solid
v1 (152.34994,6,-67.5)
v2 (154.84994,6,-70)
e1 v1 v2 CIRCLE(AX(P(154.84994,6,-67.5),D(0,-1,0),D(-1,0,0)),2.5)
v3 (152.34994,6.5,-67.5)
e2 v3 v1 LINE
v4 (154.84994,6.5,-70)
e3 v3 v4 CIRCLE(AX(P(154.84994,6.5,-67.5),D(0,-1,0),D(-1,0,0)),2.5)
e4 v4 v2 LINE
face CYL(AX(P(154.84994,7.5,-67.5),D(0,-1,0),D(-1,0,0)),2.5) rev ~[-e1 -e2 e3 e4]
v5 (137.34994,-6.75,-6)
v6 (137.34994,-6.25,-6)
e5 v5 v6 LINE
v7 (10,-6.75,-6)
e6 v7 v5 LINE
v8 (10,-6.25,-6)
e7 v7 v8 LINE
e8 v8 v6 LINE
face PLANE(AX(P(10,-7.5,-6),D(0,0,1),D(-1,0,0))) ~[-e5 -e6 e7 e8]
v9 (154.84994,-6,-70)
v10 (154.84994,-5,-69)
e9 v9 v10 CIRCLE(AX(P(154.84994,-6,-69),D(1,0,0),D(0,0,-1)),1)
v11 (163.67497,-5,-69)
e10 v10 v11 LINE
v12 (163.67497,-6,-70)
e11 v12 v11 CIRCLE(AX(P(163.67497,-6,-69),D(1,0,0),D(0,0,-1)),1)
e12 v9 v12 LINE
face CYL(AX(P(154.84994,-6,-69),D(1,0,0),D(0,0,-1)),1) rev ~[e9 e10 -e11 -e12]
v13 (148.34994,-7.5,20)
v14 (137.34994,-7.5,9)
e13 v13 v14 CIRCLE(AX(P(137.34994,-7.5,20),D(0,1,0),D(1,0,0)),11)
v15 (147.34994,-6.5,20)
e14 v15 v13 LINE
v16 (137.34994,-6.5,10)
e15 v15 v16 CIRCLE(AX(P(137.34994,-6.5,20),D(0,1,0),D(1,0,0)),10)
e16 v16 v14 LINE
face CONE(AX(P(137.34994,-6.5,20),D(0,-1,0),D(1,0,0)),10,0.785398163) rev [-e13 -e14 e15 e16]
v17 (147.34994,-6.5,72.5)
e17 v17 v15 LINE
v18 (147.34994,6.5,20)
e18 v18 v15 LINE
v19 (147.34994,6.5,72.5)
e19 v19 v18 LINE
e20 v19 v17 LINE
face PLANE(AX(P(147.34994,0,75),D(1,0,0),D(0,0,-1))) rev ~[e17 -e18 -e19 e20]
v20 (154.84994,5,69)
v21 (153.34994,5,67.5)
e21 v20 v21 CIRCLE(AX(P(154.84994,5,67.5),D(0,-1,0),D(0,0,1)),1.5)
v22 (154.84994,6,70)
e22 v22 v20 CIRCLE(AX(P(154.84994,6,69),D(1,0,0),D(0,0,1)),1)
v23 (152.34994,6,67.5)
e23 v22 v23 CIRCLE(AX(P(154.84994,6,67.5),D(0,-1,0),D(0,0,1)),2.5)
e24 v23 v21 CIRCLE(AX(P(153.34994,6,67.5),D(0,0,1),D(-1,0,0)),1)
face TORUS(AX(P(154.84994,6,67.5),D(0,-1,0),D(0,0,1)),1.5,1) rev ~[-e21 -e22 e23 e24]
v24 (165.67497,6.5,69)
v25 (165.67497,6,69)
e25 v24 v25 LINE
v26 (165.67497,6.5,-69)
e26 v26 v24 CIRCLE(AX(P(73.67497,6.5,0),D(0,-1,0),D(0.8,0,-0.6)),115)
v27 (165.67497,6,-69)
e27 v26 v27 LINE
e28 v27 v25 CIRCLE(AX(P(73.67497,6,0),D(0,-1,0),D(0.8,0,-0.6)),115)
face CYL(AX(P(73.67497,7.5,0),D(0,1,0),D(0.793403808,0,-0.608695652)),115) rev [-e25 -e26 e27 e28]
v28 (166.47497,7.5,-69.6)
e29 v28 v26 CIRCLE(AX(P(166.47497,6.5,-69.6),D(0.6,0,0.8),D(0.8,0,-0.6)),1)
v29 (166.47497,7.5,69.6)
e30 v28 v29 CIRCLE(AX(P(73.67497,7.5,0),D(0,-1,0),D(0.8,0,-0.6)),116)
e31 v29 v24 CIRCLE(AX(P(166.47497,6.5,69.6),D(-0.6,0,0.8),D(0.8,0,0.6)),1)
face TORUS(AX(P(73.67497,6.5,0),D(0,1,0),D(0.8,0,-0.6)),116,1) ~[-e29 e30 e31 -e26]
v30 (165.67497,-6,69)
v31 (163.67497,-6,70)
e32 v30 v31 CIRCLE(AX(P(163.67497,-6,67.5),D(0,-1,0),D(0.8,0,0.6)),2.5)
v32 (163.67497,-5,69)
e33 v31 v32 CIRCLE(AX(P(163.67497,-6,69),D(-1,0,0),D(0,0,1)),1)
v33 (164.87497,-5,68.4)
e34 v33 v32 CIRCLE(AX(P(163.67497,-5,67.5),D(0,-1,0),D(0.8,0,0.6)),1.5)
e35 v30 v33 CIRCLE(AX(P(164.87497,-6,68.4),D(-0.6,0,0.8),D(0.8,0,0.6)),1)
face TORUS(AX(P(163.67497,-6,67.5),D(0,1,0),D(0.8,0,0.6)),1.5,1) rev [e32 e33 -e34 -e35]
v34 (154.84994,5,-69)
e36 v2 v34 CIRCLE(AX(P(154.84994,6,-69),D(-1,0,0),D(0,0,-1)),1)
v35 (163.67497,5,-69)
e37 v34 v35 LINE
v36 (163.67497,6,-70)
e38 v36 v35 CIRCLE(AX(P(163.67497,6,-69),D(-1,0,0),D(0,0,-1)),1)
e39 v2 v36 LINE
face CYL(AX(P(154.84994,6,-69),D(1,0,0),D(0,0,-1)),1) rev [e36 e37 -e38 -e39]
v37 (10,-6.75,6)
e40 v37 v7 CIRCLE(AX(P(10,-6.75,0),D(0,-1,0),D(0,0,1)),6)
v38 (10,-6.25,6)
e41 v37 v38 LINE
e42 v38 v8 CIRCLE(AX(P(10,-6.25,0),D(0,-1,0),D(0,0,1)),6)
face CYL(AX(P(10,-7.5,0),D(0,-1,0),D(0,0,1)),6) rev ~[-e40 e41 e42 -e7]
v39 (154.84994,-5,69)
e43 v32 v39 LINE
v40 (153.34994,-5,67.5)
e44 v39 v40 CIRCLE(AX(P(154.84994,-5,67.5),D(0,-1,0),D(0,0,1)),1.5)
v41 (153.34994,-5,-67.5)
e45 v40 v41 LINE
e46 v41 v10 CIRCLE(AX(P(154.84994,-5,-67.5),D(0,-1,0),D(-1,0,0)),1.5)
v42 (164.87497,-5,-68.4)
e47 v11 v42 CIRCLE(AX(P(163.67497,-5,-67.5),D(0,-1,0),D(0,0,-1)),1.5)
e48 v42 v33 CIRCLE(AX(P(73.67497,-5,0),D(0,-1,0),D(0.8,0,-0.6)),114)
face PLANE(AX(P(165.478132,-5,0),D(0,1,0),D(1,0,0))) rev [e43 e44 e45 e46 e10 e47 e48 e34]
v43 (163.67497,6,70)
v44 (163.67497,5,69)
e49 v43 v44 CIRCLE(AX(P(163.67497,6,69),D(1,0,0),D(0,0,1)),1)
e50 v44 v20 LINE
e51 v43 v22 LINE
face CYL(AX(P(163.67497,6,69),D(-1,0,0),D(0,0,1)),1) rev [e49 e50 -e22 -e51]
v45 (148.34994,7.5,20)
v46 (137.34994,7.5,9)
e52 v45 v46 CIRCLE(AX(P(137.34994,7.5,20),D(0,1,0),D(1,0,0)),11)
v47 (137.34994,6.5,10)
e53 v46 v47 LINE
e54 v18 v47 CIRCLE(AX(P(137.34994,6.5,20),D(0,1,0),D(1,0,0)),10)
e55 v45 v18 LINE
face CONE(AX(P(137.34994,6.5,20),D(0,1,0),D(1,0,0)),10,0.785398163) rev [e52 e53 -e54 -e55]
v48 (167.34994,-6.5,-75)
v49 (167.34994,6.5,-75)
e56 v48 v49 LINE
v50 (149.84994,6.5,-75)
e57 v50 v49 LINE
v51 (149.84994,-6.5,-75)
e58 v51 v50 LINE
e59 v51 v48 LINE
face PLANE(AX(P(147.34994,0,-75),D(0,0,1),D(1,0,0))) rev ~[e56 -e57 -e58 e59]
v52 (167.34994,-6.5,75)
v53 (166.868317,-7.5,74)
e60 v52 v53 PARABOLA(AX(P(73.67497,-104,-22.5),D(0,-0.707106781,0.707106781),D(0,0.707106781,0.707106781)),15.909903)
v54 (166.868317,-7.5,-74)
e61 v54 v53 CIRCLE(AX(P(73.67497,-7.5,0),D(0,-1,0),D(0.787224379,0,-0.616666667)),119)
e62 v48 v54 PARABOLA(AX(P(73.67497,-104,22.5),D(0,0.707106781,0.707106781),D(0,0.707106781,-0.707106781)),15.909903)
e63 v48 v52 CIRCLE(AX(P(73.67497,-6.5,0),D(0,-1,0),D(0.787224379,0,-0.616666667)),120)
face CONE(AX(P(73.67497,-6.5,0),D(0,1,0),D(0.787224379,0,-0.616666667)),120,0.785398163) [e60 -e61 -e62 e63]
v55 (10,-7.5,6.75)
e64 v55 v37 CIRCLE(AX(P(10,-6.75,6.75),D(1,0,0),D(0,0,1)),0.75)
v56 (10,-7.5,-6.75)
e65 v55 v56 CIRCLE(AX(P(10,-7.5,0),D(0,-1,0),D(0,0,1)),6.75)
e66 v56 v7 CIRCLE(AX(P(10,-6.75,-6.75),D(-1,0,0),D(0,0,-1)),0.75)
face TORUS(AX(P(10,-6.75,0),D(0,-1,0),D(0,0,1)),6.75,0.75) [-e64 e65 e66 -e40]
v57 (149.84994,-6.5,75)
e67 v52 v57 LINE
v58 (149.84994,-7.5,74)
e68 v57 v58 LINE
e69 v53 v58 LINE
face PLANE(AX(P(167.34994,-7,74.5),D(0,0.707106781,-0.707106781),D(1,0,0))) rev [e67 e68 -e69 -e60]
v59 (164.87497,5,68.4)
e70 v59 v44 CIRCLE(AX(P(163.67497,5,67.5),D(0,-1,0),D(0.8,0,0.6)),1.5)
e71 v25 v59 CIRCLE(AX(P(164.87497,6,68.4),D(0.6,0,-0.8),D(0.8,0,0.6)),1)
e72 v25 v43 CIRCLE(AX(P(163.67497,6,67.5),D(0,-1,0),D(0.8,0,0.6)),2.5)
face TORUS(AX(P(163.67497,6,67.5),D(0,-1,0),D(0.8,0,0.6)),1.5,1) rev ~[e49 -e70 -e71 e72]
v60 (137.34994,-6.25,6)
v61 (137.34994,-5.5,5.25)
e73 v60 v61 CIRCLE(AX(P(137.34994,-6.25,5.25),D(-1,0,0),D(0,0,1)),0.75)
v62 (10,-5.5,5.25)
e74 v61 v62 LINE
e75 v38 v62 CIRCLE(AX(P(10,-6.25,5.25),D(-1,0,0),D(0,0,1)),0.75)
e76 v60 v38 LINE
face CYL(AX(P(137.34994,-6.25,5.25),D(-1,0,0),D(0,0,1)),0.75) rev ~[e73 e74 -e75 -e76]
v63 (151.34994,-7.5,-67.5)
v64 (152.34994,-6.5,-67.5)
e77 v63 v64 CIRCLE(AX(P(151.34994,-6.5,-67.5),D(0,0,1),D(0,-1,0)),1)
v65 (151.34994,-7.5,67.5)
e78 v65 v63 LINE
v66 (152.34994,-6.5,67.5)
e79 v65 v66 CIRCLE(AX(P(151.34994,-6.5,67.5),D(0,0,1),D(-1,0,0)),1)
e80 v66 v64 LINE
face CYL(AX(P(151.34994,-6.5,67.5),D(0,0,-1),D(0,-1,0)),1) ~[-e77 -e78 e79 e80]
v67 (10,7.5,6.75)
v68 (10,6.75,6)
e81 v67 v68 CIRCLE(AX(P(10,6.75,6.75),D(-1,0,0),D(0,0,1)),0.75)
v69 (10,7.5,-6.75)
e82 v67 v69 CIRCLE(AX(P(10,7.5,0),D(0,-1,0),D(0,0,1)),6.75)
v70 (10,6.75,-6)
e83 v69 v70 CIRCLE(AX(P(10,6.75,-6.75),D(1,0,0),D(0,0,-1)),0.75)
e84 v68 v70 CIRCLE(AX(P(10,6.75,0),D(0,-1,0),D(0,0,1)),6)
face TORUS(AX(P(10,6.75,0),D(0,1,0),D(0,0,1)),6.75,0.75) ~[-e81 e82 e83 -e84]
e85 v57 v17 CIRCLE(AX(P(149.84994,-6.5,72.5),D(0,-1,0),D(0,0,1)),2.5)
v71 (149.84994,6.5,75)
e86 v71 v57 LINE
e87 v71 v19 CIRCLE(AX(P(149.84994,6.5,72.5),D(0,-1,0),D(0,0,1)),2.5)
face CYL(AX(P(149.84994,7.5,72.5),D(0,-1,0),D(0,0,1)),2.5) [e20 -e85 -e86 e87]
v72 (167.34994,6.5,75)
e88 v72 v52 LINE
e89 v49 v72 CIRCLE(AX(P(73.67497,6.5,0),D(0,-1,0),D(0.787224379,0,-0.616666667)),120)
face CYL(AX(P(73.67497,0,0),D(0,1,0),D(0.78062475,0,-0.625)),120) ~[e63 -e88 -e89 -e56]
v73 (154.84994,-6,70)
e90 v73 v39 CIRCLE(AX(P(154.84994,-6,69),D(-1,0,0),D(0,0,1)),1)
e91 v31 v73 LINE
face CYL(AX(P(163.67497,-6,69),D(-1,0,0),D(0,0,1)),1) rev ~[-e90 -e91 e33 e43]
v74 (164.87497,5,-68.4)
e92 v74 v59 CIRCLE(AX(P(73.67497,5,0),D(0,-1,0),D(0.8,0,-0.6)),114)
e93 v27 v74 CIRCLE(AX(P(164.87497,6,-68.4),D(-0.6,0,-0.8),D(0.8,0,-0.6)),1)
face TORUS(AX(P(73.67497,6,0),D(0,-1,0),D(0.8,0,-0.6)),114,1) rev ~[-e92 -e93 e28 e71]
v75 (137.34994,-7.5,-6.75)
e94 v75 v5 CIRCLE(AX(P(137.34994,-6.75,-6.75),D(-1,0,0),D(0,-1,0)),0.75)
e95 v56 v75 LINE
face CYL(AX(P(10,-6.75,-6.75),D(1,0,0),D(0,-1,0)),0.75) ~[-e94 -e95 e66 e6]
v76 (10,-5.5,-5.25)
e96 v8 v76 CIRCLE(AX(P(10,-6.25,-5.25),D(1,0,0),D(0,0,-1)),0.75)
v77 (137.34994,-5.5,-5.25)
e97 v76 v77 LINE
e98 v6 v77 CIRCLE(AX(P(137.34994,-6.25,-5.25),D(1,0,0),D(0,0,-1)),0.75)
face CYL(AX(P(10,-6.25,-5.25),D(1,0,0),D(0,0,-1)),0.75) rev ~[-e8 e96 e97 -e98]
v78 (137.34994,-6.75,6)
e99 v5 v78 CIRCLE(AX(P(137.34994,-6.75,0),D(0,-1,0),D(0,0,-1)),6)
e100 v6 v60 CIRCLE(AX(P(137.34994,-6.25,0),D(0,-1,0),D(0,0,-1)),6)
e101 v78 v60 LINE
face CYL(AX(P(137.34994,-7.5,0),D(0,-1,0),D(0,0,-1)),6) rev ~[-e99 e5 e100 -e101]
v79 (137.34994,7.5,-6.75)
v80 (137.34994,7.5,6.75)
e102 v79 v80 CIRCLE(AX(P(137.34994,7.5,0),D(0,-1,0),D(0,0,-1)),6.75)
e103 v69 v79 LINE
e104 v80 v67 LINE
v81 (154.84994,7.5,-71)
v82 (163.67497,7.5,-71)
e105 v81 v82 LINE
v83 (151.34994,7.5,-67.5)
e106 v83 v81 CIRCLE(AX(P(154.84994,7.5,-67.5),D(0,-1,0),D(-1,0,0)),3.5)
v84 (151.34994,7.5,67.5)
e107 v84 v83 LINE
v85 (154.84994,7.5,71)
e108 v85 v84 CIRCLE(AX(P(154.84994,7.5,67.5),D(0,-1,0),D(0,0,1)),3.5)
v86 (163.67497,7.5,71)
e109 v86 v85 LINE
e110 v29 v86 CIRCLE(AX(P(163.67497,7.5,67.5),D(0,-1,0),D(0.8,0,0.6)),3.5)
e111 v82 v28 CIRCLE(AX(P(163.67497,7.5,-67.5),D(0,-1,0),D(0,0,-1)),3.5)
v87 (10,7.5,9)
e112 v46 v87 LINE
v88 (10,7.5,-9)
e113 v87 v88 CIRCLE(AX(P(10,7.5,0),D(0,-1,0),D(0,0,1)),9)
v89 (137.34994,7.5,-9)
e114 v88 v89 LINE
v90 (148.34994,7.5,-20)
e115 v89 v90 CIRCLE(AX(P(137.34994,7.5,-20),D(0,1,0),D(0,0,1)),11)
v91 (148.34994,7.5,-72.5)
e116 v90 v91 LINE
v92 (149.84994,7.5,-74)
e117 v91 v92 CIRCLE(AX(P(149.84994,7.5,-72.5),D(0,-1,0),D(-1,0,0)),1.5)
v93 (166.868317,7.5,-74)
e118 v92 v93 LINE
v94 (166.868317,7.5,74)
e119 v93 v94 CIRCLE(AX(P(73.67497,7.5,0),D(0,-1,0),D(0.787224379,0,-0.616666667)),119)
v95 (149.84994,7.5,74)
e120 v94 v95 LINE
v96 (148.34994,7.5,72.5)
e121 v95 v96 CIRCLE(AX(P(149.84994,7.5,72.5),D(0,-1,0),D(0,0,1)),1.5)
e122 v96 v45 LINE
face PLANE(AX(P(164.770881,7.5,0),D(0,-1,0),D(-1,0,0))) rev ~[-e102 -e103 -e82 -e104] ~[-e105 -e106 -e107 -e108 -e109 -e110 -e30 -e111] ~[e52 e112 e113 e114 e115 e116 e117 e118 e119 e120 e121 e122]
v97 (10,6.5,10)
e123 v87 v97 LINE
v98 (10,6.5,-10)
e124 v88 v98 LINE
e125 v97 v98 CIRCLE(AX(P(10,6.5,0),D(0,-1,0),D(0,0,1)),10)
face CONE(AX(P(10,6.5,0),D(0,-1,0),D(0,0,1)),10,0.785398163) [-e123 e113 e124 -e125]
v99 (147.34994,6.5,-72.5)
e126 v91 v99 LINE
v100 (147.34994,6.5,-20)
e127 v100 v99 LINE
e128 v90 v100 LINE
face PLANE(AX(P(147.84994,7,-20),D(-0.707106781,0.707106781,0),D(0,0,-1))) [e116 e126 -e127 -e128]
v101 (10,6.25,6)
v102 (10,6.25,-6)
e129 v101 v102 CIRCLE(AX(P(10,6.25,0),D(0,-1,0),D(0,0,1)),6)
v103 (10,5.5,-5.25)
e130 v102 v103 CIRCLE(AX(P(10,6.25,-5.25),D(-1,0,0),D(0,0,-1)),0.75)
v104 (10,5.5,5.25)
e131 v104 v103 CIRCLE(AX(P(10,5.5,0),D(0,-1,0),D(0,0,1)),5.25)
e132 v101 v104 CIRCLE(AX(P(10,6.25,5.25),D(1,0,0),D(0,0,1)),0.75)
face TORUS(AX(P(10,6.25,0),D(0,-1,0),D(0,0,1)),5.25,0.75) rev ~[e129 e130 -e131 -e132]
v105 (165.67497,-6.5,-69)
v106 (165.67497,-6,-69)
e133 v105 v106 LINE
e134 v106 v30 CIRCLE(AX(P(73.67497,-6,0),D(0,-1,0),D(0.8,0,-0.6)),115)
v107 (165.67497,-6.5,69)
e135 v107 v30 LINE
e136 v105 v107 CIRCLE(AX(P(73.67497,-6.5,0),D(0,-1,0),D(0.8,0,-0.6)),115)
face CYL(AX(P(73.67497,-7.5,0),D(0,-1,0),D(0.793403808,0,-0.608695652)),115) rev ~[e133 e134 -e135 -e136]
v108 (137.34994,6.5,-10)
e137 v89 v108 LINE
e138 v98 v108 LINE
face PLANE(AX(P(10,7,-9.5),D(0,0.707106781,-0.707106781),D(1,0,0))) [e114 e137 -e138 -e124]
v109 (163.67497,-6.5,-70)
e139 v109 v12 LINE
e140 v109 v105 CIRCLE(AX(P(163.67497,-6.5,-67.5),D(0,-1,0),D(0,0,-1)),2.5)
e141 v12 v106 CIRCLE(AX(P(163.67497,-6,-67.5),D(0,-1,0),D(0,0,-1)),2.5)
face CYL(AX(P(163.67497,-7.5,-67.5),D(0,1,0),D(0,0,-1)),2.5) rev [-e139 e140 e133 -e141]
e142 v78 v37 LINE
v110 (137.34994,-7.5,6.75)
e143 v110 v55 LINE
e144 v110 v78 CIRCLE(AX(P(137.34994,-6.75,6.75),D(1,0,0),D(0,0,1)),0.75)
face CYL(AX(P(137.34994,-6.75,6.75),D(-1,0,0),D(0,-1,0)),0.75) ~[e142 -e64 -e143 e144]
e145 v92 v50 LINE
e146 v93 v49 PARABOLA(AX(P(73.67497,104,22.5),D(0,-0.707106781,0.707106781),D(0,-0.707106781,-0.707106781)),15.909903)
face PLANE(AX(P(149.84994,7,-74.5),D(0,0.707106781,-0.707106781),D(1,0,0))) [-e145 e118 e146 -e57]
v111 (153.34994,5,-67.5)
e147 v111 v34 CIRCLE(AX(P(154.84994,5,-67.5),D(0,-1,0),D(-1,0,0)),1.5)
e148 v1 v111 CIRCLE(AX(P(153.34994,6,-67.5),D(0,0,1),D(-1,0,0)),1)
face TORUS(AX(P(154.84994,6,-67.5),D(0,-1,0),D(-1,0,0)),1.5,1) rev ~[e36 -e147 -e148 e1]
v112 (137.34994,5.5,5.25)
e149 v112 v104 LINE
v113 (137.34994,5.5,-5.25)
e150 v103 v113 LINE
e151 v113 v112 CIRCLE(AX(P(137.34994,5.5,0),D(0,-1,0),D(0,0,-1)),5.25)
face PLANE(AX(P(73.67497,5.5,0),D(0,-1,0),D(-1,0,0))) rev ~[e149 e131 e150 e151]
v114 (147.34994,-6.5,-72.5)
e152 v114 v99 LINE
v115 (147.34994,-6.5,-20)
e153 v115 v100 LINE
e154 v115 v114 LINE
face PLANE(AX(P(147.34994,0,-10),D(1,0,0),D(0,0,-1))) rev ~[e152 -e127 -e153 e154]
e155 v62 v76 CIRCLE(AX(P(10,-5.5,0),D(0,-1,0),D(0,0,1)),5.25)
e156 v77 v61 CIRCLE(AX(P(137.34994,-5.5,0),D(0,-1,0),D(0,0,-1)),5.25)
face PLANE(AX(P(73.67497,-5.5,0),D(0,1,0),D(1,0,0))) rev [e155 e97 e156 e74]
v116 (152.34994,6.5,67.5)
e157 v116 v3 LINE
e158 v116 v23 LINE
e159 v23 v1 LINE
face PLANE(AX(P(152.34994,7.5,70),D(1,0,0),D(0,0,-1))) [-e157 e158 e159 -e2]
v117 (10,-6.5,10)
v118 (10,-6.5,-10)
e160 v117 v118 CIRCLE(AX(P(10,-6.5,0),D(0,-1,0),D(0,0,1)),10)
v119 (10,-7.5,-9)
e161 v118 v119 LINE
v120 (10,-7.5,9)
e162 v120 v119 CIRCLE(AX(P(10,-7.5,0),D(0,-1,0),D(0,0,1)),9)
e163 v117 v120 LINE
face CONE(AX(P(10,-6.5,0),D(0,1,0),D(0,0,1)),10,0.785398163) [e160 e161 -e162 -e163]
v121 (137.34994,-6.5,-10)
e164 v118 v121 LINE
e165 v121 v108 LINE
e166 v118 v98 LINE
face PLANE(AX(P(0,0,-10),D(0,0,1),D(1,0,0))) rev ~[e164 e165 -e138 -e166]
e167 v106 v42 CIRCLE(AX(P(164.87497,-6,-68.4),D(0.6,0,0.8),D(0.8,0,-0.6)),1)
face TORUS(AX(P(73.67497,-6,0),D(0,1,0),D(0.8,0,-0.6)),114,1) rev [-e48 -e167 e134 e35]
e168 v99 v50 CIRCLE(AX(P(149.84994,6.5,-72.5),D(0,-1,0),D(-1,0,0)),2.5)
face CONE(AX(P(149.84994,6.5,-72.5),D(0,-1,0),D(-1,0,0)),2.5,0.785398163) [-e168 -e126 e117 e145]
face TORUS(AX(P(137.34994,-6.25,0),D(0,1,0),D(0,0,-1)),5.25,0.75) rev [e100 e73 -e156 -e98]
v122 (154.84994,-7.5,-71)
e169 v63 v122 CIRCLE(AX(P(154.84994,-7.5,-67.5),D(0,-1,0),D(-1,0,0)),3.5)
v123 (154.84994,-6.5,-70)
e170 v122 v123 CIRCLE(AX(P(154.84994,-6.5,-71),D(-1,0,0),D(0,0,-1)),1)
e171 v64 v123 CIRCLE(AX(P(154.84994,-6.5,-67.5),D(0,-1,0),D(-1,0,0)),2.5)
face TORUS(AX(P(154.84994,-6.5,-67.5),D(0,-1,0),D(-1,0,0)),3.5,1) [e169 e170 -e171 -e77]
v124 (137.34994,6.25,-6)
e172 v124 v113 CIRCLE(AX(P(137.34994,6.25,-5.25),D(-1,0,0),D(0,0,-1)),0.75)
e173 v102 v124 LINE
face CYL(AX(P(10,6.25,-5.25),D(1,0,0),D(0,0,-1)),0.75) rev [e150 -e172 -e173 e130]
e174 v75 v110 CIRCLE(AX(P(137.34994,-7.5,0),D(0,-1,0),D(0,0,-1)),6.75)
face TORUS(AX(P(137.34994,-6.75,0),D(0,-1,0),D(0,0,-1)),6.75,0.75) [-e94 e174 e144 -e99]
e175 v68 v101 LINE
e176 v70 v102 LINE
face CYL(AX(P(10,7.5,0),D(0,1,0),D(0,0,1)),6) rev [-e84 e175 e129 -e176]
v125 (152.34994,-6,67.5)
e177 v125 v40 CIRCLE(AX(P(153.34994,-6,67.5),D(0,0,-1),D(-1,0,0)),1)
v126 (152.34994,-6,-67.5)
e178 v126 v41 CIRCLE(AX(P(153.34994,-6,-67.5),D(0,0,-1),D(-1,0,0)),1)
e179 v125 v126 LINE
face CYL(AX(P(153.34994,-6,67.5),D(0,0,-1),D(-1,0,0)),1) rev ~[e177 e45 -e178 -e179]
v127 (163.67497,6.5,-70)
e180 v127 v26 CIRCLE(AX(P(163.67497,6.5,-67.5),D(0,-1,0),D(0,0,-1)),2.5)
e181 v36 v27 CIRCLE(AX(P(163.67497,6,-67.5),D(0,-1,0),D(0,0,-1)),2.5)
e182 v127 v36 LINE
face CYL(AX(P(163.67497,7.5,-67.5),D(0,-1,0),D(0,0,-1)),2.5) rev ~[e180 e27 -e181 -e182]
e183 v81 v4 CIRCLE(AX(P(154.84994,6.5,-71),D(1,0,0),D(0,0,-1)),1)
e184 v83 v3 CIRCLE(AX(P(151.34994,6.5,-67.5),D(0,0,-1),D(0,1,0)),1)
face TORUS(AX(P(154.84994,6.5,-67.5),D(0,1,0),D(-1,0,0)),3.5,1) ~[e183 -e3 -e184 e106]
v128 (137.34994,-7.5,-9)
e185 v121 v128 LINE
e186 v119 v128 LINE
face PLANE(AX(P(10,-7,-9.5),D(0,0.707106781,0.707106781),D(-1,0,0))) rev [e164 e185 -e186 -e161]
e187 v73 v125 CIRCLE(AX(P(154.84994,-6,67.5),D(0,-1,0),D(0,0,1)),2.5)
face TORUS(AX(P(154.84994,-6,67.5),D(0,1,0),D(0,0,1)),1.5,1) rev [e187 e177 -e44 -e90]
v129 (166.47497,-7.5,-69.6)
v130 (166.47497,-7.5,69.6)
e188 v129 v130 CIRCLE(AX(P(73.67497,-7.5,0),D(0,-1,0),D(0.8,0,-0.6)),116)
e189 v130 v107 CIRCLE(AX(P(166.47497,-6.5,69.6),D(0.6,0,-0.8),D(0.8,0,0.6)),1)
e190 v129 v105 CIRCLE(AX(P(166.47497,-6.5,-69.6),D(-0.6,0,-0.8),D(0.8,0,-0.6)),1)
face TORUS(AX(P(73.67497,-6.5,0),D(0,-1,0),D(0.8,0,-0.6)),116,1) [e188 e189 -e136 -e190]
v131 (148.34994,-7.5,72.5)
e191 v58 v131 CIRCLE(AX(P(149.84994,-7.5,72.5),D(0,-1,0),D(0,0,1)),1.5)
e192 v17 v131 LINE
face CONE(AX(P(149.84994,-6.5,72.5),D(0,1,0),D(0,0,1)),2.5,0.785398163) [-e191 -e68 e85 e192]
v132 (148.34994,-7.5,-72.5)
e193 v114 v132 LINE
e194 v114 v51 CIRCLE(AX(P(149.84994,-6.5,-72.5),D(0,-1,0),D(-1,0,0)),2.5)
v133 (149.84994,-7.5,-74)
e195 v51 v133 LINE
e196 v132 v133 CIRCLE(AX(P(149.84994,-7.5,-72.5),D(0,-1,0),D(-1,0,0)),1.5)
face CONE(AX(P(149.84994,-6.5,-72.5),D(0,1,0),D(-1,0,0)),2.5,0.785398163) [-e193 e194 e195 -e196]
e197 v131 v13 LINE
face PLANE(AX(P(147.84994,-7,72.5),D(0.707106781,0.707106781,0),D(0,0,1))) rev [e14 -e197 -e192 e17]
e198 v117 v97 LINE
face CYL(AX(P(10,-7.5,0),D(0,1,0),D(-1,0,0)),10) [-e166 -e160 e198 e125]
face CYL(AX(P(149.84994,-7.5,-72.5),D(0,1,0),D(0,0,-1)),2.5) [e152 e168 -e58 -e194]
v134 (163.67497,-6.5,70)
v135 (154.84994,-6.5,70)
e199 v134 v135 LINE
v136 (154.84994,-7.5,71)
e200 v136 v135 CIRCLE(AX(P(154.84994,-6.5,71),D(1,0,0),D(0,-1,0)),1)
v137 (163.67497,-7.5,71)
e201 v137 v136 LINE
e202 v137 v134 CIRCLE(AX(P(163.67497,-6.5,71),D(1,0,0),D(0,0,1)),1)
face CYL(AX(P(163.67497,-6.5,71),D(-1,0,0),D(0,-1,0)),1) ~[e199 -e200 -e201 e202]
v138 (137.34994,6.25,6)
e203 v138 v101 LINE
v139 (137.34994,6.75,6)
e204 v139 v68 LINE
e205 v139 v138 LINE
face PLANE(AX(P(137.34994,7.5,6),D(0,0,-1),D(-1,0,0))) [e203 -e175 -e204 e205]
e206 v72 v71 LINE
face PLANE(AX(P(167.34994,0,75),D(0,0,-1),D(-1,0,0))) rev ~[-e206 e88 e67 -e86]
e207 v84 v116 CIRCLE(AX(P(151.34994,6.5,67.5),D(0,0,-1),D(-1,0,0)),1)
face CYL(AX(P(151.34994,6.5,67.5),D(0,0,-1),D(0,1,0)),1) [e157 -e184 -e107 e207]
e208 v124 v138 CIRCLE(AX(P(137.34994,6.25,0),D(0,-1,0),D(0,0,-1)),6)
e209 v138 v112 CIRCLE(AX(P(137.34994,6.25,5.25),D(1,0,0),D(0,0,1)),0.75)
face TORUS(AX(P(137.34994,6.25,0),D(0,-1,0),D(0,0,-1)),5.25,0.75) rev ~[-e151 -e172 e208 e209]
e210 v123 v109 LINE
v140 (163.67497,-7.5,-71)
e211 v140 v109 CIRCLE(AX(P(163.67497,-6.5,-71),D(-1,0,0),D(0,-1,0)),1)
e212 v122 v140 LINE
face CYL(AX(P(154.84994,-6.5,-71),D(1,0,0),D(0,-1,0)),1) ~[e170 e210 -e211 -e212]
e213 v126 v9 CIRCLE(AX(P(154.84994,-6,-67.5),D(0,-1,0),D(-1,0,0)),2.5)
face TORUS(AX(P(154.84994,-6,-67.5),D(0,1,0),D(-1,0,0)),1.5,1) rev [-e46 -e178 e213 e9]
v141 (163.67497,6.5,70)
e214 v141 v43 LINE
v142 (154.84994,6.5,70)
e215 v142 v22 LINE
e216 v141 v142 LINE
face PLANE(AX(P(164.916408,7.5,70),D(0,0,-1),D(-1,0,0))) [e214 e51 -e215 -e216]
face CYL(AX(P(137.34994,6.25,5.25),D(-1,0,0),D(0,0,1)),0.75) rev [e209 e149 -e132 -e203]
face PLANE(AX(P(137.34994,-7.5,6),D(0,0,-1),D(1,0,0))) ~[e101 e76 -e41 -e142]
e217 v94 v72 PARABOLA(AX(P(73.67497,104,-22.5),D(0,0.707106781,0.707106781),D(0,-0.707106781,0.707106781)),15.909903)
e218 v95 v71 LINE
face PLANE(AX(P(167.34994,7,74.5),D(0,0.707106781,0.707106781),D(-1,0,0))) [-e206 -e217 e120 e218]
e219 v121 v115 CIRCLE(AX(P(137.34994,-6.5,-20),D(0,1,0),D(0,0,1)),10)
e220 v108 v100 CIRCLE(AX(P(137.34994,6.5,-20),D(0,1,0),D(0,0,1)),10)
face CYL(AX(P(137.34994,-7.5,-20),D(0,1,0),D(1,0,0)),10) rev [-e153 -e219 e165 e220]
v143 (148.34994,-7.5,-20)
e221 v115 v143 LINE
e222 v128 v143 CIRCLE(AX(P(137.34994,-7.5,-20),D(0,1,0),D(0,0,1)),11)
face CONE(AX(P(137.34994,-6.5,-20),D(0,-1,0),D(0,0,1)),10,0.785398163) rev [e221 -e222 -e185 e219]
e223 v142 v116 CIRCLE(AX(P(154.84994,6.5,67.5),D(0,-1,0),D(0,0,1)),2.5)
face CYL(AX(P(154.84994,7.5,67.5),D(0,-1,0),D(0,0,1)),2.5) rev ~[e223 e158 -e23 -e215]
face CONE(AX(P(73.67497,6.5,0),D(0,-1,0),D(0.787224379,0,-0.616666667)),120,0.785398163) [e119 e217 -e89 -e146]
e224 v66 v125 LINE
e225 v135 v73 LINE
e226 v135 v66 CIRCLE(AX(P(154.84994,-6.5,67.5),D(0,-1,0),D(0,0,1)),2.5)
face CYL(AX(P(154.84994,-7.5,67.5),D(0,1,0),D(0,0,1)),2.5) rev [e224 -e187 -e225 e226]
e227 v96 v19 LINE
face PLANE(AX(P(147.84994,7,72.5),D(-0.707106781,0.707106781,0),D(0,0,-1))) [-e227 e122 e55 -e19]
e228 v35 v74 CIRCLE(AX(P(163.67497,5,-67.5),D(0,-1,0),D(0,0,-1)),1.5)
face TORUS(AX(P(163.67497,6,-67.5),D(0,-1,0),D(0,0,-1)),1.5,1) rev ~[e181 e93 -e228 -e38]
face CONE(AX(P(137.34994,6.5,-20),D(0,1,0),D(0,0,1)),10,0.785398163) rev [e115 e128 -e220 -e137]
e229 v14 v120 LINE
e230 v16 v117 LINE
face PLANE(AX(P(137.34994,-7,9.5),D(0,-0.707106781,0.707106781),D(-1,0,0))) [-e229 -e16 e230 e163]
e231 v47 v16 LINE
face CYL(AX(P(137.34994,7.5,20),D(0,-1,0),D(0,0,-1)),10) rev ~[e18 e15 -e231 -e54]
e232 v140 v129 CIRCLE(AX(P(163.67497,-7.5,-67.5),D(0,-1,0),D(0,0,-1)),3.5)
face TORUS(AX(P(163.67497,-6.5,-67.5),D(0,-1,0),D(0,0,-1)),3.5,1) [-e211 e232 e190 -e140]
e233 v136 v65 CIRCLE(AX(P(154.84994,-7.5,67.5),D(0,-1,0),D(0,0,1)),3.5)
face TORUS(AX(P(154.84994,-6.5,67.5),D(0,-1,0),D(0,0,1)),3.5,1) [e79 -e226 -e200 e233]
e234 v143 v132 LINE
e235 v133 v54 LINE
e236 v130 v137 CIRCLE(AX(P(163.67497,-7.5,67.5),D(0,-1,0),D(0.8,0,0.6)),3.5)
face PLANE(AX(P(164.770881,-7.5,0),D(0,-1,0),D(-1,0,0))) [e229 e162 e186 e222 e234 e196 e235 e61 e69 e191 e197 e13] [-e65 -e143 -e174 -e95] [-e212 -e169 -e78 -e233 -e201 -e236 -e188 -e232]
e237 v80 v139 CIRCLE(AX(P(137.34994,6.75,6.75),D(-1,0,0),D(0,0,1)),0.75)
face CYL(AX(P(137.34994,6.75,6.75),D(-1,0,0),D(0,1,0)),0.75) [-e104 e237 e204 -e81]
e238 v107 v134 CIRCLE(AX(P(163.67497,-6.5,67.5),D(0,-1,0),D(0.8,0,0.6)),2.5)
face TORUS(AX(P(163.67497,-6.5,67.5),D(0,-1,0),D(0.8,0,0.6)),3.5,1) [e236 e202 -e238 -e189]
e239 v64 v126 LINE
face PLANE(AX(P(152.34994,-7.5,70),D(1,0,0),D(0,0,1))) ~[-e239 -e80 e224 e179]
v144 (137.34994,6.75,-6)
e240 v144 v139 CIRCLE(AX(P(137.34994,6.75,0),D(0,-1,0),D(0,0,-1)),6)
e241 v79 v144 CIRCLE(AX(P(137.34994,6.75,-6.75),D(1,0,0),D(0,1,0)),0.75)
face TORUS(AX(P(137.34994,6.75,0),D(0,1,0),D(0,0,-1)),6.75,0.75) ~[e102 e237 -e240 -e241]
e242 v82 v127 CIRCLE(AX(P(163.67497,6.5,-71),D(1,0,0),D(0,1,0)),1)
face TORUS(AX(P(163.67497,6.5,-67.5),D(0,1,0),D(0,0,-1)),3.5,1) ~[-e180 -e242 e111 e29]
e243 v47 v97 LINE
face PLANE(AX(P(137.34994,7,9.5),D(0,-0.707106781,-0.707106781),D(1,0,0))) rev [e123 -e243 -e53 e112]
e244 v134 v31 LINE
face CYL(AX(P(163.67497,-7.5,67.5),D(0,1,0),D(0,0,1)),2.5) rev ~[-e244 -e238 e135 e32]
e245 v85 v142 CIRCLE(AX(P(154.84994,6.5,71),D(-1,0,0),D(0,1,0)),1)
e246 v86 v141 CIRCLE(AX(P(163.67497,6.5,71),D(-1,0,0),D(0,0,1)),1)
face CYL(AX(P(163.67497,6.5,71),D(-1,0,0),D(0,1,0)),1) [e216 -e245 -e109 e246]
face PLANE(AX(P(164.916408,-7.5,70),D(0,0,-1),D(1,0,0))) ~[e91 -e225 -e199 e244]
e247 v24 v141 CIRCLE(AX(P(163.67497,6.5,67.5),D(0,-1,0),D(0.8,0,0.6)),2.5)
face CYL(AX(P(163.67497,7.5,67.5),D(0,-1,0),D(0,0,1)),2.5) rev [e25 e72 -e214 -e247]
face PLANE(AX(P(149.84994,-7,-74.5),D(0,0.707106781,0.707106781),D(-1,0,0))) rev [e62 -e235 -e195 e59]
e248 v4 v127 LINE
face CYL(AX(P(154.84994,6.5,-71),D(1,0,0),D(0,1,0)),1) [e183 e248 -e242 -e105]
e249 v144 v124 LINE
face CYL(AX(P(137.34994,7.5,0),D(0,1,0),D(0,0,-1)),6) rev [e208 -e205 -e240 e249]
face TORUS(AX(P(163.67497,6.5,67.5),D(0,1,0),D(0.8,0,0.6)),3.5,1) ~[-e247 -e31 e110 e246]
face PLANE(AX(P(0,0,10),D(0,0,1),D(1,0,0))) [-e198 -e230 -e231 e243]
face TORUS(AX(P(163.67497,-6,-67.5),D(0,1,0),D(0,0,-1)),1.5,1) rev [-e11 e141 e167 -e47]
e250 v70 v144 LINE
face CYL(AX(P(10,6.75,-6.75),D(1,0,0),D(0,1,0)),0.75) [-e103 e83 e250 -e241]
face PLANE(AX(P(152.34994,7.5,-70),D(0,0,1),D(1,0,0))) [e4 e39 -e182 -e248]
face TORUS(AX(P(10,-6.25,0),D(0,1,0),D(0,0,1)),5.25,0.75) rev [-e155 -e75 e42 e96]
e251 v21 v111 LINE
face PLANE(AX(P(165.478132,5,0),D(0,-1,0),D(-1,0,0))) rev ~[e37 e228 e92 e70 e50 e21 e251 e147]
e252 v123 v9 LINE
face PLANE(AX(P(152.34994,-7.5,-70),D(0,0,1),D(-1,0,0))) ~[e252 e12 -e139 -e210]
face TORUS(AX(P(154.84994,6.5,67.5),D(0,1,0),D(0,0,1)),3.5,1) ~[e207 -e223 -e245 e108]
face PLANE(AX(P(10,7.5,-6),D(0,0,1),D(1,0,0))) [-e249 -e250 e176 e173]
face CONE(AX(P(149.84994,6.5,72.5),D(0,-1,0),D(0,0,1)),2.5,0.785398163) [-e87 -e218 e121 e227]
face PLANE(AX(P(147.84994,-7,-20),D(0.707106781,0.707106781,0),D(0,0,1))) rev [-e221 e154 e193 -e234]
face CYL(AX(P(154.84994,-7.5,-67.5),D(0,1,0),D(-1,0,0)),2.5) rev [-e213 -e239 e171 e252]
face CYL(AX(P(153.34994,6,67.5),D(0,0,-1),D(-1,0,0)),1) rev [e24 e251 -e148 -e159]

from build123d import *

# Parameters (mm, degrees)
SKETCH1_W           = 147.349939952
SKETCH1_H           = 20
BOSS_EXTRUDE1_DEPTH = 7.5
FILLET1_R           = 10
FILLET2_RADIUS      = 10
FILLET2_LENGTH      = 15
FILLET3_R           = 2.5
CHAMFER1_SIZE       = 1
CHAMFER2_SIZE       = 1
CUT_EXTRUDE1_DEPTH  = 2.5
FILLET4_R           = 2.5
FILLET5_R           = 1
CUT_EXTRUDE2_DEPTH  = 2
FILLET6_R           = 0.75


with BuildPart() as part:
    # Sketch1 → Boss-Extrude1 (new, symmetric)
    with BuildSketch(Plane(origin=(0, 0, 0), x_dir=(1, 0, 0), z_dir=(0, 1, 0))):
        with BuildLine():
            ThreePointArc((167.349939952, 75), (193.674969976, 0), (167.349939952, -75))
            Line((167.349939952, -75), (147.349939952, -75))
            Line((147.349939952, -75), (147.349939952, 75))
            Line((147.349939952, 75), (167.349939952, 75))
        make_face()
        with Locations((73.674969976, 0)):
            Rectangle(SKETCH1_W, SKETCH1_H)
    extrude(amount=BOSS_EXTRUDE1_DEPTH, both=True)

    # Fillet1
    fillet1_edges = [part.edges().sort_by_distance(p)[0] for p in [
        (147.349939952, 0, 10),
        (147.349939952, 0, -10),
    ]]
    fillet(fillet1_edges, radius=FILLET1_R)

    # Fillet2: full round fillet: the end face becomes a half cylinder, R = half its width
    fillet2_face = Plane((0, 0, 0), x_dir=(0, 1, 0), z_dir=(-1, 0, 0))  # on the end face: x along it, z out of the body
    fillet2_slab = fillet2_face.offset(-FILLET2_RADIUS / 2) * Box(FILLET2_LENGTH, 2 * FILLET2_RADIUS, FILLET2_RADIUS, mode=Mode.PRIVATE)  # the body's end, R deep
    fillet2_round = Plane((10, 0, 0), x_dir=(-1, 0, 0), z_dir=(0, 1, 0)) * Cylinder(FILLET2_RADIUS, FILLET2_LENGTH, mode=Mode.PRIVATE)  # its axis R under the face
    add(fillet2_slab - fillet2_round, mode=Mode.SUBTRACT)

    # Fillet3
    fillet3_edges = [part.edges().sort_by_distance(p)[0] for p in [
        (147.349939952, 0, 75),
        (147.349939952, 0, -75),
    ]]
    fillet(fillet3_edges, radius=FILLET3_R)

    # Chamfer1
    chamfer1_edges = [part.edges().sort_by_distance(p)[0] for p in [
        (158.599939952, 7.5, -75),
        (158.599939952, -7.5, -75),
        (73.674969976, -7.5, -10),
        (73.674969976, 7.5, -10),
        (147.349939952, -7.5, 46.25),
        (147.349939952, 7.5, 46.25),
        (73.674969976, -7.5, 10),
        (73.674969976, 7.5, 10),
        (144.421007764, -7.5, -12.928932188),
        (144.421007764, 7.5, -12.928932188),
        (144.421007764, -7.5, 12.928932188),
        (144.421007764, 7.5, 12.928932188),
        (158.599939952, 7.5, 75),
        (0, 7.5, 0),
        (0, -7.5, 0),
        (147.349939952, -7.5, -46.25),
        (147.349939952, 7.5, -46.25),
        (148.082172999, -7.5, 74.267766953),
        (148.082172999, -7.5, -74.267766953),
        (148.082172999, 7.5, 74.267766953),
        (148.082172999, 7.5, -74.267766953),
        (158.599939952, -7.5, 75),
    ]]
    chamfer(chamfer1_edges, length=CHAMFER1_SIZE)

    # Chamfer2
    chamfer2_edges = [part.edges().sort_by_distance(p)[0] for p in [
        (193.674969976, -7.5, 0),
        (193.674969976, 7.5, 0),
    ]]
    chamfer(chamfer2_edges, length=CHAMFER2_SIZE)

    # Sketch2 → Cut-Extrude1 (cut)
    with BuildSketch(Plane(origin=(0, 7.5, 0), x_dir=(1, 0, 0), z_dir=(0, 1, 0))):
        with BuildLine():
            Line((164.91640793, -70), (152.349939952, -70))
            Line((152.349939952, -70), (152.349939952, -20))
            Line((152.349939952, -20), (152.349939952, 70))
            Line((152.349939952, 70), (164.91640793, 70))
            ThreePointArc((164.91640793, 70), (188.674969976, 0), (164.91640793, -70))
        make_face()
    cut_extrude1 = extrude(amount=-CUT_EXTRUDE1_DEPTH, mode=Mode.SUBTRACT)

    # Mirror1: Cut-Extrude1 across plane
    add(cut_extrude1.mirror(Plane.ZX), mode=Mode.SUBTRACT)

    # Fillet4
    fillet4_edges = [part.edges().sort_by_distance(p)[0] for p in [
        (164.91640793, 6.25, 70),
        (152.349939952, 6.25, 70),
        (152.349939952, 6.25, -70),
        (164.91640793, 6.25, -70),
        (152.349939952, -6.25, 70),
        (164.91640793, -6.25, 70),
        (164.91640793, -6.25, -70),
        (152.349939952, -6.25, -70),
    ]]
    fillet(fillet4_edges, radius=FILLET4_R)

    # Fillet5
    fillet5_edges = [part.edges().sort_by_distance(p)[0] for p in [
        (188.674969976, -7.5, 0),
        (188.674969976, -5, 0),
        (159.262454964, -7.5, -70),
        (159.262454964, -5, -70),
        (159.262454964, -5, 70),
        (152.349939952, -5, 0),
        (153.082172999, -5, 69.267766953),
        (164.793003965, -5, 69.736067977),
        (153.082172999, -5, -69.267766953),
        (164.793003965, -5, -69.736067977),
        (152.349939952, -7.5, 0),
        (159.262454964, -7.5, 70),
        (188.674969976, 7.5, 0),
        (188.674969976, 5, 0),
        (159.262454964, 7.5, 70),
        (159.262454964, 5, 70),
        (159.262454964, 5, -70),
        (152.349939952, 5, 0),
        (153.082172999, 5, -69.267766953),
        (164.793003965, 5, -69.736067977),
        (153.082172999, 5, 69.267766953),
        (164.793003965, 5, 69.736067977),
        (152.349939952, 7.5, 0),
        (159.262454964, 7.5, -70),
        (164.793003965, -7.5, -69.736067977),
        (153.082172999, -7.5, -69.267766953),
        (164.793003965, -7.5, 69.736067977),
        (153.082172999, -7.5, 69.267766953),
        (164.793003965, 7.5, 69.736067977),
        (153.082172999, 7.5, 69.267766953),
        (164.793003965, 7.5, -69.736067977),
        (153.082172999, 7.5, -69.267766953),
    ]]
    fillet(fillet5_edges, radius=FILLET5_R)

    # Sketch3 → Cut-Extrude2 (cut)
    with BuildSketch(Plane(origin=(0, 7.5, 0), x_dir=(1, 0, 0), z_dir=(0, 1, 0))):
        with BuildLine():
            Line((10, 6), (137.349939952, 6))
            ThreePointArc((137.349939952, 6), (143.349939952, 0), (137.349939952, -6))
            Line((137.349939952, -6), (10, -6))
            ThreePointArc((10, -6), (4, 0), (10, 6))
        make_face()
    cut_extrude2 = extrude(amount=-CUT_EXTRUDE2_DEPTH, mode=Mode.SUBTRACT)

    # Mirror2: Cut-Extrude2 across plane
    add(cut_extrude2.mirror(Plane.ZX), mode=Mode.SUBTRACT)

    # Fillet6
    fillet6_edges = [part.edges().sort_by_distance(p)[0] for p in [
        (4, 5.5, 0),
        (73.674969976, 5.5, -6),
        (143.349939952, 5.5, 0),
        (73.674969976, 5.5, 6),
        (4, 7.5, 0),
        (73.674969976, 7.5, 6),
        (143.349939952, 7.5, 0),
        (73.674969976, 7.5, -6),
        (4, -7.5, 0),
        (73.674969976, -7.5, 6),
        (143.349939952, -7.5, 0),
        (73.674969976, -7.5, -6),
        (4, -5.5, 0),
        (73.674969976, -5.5, 6),
        (143.349939952, -5.5, 0),
        (73.674969976, -5.5, -6),
    ]]
    fillet(fillet6_edges, radius=FILLET6_R)


solid = part.part
